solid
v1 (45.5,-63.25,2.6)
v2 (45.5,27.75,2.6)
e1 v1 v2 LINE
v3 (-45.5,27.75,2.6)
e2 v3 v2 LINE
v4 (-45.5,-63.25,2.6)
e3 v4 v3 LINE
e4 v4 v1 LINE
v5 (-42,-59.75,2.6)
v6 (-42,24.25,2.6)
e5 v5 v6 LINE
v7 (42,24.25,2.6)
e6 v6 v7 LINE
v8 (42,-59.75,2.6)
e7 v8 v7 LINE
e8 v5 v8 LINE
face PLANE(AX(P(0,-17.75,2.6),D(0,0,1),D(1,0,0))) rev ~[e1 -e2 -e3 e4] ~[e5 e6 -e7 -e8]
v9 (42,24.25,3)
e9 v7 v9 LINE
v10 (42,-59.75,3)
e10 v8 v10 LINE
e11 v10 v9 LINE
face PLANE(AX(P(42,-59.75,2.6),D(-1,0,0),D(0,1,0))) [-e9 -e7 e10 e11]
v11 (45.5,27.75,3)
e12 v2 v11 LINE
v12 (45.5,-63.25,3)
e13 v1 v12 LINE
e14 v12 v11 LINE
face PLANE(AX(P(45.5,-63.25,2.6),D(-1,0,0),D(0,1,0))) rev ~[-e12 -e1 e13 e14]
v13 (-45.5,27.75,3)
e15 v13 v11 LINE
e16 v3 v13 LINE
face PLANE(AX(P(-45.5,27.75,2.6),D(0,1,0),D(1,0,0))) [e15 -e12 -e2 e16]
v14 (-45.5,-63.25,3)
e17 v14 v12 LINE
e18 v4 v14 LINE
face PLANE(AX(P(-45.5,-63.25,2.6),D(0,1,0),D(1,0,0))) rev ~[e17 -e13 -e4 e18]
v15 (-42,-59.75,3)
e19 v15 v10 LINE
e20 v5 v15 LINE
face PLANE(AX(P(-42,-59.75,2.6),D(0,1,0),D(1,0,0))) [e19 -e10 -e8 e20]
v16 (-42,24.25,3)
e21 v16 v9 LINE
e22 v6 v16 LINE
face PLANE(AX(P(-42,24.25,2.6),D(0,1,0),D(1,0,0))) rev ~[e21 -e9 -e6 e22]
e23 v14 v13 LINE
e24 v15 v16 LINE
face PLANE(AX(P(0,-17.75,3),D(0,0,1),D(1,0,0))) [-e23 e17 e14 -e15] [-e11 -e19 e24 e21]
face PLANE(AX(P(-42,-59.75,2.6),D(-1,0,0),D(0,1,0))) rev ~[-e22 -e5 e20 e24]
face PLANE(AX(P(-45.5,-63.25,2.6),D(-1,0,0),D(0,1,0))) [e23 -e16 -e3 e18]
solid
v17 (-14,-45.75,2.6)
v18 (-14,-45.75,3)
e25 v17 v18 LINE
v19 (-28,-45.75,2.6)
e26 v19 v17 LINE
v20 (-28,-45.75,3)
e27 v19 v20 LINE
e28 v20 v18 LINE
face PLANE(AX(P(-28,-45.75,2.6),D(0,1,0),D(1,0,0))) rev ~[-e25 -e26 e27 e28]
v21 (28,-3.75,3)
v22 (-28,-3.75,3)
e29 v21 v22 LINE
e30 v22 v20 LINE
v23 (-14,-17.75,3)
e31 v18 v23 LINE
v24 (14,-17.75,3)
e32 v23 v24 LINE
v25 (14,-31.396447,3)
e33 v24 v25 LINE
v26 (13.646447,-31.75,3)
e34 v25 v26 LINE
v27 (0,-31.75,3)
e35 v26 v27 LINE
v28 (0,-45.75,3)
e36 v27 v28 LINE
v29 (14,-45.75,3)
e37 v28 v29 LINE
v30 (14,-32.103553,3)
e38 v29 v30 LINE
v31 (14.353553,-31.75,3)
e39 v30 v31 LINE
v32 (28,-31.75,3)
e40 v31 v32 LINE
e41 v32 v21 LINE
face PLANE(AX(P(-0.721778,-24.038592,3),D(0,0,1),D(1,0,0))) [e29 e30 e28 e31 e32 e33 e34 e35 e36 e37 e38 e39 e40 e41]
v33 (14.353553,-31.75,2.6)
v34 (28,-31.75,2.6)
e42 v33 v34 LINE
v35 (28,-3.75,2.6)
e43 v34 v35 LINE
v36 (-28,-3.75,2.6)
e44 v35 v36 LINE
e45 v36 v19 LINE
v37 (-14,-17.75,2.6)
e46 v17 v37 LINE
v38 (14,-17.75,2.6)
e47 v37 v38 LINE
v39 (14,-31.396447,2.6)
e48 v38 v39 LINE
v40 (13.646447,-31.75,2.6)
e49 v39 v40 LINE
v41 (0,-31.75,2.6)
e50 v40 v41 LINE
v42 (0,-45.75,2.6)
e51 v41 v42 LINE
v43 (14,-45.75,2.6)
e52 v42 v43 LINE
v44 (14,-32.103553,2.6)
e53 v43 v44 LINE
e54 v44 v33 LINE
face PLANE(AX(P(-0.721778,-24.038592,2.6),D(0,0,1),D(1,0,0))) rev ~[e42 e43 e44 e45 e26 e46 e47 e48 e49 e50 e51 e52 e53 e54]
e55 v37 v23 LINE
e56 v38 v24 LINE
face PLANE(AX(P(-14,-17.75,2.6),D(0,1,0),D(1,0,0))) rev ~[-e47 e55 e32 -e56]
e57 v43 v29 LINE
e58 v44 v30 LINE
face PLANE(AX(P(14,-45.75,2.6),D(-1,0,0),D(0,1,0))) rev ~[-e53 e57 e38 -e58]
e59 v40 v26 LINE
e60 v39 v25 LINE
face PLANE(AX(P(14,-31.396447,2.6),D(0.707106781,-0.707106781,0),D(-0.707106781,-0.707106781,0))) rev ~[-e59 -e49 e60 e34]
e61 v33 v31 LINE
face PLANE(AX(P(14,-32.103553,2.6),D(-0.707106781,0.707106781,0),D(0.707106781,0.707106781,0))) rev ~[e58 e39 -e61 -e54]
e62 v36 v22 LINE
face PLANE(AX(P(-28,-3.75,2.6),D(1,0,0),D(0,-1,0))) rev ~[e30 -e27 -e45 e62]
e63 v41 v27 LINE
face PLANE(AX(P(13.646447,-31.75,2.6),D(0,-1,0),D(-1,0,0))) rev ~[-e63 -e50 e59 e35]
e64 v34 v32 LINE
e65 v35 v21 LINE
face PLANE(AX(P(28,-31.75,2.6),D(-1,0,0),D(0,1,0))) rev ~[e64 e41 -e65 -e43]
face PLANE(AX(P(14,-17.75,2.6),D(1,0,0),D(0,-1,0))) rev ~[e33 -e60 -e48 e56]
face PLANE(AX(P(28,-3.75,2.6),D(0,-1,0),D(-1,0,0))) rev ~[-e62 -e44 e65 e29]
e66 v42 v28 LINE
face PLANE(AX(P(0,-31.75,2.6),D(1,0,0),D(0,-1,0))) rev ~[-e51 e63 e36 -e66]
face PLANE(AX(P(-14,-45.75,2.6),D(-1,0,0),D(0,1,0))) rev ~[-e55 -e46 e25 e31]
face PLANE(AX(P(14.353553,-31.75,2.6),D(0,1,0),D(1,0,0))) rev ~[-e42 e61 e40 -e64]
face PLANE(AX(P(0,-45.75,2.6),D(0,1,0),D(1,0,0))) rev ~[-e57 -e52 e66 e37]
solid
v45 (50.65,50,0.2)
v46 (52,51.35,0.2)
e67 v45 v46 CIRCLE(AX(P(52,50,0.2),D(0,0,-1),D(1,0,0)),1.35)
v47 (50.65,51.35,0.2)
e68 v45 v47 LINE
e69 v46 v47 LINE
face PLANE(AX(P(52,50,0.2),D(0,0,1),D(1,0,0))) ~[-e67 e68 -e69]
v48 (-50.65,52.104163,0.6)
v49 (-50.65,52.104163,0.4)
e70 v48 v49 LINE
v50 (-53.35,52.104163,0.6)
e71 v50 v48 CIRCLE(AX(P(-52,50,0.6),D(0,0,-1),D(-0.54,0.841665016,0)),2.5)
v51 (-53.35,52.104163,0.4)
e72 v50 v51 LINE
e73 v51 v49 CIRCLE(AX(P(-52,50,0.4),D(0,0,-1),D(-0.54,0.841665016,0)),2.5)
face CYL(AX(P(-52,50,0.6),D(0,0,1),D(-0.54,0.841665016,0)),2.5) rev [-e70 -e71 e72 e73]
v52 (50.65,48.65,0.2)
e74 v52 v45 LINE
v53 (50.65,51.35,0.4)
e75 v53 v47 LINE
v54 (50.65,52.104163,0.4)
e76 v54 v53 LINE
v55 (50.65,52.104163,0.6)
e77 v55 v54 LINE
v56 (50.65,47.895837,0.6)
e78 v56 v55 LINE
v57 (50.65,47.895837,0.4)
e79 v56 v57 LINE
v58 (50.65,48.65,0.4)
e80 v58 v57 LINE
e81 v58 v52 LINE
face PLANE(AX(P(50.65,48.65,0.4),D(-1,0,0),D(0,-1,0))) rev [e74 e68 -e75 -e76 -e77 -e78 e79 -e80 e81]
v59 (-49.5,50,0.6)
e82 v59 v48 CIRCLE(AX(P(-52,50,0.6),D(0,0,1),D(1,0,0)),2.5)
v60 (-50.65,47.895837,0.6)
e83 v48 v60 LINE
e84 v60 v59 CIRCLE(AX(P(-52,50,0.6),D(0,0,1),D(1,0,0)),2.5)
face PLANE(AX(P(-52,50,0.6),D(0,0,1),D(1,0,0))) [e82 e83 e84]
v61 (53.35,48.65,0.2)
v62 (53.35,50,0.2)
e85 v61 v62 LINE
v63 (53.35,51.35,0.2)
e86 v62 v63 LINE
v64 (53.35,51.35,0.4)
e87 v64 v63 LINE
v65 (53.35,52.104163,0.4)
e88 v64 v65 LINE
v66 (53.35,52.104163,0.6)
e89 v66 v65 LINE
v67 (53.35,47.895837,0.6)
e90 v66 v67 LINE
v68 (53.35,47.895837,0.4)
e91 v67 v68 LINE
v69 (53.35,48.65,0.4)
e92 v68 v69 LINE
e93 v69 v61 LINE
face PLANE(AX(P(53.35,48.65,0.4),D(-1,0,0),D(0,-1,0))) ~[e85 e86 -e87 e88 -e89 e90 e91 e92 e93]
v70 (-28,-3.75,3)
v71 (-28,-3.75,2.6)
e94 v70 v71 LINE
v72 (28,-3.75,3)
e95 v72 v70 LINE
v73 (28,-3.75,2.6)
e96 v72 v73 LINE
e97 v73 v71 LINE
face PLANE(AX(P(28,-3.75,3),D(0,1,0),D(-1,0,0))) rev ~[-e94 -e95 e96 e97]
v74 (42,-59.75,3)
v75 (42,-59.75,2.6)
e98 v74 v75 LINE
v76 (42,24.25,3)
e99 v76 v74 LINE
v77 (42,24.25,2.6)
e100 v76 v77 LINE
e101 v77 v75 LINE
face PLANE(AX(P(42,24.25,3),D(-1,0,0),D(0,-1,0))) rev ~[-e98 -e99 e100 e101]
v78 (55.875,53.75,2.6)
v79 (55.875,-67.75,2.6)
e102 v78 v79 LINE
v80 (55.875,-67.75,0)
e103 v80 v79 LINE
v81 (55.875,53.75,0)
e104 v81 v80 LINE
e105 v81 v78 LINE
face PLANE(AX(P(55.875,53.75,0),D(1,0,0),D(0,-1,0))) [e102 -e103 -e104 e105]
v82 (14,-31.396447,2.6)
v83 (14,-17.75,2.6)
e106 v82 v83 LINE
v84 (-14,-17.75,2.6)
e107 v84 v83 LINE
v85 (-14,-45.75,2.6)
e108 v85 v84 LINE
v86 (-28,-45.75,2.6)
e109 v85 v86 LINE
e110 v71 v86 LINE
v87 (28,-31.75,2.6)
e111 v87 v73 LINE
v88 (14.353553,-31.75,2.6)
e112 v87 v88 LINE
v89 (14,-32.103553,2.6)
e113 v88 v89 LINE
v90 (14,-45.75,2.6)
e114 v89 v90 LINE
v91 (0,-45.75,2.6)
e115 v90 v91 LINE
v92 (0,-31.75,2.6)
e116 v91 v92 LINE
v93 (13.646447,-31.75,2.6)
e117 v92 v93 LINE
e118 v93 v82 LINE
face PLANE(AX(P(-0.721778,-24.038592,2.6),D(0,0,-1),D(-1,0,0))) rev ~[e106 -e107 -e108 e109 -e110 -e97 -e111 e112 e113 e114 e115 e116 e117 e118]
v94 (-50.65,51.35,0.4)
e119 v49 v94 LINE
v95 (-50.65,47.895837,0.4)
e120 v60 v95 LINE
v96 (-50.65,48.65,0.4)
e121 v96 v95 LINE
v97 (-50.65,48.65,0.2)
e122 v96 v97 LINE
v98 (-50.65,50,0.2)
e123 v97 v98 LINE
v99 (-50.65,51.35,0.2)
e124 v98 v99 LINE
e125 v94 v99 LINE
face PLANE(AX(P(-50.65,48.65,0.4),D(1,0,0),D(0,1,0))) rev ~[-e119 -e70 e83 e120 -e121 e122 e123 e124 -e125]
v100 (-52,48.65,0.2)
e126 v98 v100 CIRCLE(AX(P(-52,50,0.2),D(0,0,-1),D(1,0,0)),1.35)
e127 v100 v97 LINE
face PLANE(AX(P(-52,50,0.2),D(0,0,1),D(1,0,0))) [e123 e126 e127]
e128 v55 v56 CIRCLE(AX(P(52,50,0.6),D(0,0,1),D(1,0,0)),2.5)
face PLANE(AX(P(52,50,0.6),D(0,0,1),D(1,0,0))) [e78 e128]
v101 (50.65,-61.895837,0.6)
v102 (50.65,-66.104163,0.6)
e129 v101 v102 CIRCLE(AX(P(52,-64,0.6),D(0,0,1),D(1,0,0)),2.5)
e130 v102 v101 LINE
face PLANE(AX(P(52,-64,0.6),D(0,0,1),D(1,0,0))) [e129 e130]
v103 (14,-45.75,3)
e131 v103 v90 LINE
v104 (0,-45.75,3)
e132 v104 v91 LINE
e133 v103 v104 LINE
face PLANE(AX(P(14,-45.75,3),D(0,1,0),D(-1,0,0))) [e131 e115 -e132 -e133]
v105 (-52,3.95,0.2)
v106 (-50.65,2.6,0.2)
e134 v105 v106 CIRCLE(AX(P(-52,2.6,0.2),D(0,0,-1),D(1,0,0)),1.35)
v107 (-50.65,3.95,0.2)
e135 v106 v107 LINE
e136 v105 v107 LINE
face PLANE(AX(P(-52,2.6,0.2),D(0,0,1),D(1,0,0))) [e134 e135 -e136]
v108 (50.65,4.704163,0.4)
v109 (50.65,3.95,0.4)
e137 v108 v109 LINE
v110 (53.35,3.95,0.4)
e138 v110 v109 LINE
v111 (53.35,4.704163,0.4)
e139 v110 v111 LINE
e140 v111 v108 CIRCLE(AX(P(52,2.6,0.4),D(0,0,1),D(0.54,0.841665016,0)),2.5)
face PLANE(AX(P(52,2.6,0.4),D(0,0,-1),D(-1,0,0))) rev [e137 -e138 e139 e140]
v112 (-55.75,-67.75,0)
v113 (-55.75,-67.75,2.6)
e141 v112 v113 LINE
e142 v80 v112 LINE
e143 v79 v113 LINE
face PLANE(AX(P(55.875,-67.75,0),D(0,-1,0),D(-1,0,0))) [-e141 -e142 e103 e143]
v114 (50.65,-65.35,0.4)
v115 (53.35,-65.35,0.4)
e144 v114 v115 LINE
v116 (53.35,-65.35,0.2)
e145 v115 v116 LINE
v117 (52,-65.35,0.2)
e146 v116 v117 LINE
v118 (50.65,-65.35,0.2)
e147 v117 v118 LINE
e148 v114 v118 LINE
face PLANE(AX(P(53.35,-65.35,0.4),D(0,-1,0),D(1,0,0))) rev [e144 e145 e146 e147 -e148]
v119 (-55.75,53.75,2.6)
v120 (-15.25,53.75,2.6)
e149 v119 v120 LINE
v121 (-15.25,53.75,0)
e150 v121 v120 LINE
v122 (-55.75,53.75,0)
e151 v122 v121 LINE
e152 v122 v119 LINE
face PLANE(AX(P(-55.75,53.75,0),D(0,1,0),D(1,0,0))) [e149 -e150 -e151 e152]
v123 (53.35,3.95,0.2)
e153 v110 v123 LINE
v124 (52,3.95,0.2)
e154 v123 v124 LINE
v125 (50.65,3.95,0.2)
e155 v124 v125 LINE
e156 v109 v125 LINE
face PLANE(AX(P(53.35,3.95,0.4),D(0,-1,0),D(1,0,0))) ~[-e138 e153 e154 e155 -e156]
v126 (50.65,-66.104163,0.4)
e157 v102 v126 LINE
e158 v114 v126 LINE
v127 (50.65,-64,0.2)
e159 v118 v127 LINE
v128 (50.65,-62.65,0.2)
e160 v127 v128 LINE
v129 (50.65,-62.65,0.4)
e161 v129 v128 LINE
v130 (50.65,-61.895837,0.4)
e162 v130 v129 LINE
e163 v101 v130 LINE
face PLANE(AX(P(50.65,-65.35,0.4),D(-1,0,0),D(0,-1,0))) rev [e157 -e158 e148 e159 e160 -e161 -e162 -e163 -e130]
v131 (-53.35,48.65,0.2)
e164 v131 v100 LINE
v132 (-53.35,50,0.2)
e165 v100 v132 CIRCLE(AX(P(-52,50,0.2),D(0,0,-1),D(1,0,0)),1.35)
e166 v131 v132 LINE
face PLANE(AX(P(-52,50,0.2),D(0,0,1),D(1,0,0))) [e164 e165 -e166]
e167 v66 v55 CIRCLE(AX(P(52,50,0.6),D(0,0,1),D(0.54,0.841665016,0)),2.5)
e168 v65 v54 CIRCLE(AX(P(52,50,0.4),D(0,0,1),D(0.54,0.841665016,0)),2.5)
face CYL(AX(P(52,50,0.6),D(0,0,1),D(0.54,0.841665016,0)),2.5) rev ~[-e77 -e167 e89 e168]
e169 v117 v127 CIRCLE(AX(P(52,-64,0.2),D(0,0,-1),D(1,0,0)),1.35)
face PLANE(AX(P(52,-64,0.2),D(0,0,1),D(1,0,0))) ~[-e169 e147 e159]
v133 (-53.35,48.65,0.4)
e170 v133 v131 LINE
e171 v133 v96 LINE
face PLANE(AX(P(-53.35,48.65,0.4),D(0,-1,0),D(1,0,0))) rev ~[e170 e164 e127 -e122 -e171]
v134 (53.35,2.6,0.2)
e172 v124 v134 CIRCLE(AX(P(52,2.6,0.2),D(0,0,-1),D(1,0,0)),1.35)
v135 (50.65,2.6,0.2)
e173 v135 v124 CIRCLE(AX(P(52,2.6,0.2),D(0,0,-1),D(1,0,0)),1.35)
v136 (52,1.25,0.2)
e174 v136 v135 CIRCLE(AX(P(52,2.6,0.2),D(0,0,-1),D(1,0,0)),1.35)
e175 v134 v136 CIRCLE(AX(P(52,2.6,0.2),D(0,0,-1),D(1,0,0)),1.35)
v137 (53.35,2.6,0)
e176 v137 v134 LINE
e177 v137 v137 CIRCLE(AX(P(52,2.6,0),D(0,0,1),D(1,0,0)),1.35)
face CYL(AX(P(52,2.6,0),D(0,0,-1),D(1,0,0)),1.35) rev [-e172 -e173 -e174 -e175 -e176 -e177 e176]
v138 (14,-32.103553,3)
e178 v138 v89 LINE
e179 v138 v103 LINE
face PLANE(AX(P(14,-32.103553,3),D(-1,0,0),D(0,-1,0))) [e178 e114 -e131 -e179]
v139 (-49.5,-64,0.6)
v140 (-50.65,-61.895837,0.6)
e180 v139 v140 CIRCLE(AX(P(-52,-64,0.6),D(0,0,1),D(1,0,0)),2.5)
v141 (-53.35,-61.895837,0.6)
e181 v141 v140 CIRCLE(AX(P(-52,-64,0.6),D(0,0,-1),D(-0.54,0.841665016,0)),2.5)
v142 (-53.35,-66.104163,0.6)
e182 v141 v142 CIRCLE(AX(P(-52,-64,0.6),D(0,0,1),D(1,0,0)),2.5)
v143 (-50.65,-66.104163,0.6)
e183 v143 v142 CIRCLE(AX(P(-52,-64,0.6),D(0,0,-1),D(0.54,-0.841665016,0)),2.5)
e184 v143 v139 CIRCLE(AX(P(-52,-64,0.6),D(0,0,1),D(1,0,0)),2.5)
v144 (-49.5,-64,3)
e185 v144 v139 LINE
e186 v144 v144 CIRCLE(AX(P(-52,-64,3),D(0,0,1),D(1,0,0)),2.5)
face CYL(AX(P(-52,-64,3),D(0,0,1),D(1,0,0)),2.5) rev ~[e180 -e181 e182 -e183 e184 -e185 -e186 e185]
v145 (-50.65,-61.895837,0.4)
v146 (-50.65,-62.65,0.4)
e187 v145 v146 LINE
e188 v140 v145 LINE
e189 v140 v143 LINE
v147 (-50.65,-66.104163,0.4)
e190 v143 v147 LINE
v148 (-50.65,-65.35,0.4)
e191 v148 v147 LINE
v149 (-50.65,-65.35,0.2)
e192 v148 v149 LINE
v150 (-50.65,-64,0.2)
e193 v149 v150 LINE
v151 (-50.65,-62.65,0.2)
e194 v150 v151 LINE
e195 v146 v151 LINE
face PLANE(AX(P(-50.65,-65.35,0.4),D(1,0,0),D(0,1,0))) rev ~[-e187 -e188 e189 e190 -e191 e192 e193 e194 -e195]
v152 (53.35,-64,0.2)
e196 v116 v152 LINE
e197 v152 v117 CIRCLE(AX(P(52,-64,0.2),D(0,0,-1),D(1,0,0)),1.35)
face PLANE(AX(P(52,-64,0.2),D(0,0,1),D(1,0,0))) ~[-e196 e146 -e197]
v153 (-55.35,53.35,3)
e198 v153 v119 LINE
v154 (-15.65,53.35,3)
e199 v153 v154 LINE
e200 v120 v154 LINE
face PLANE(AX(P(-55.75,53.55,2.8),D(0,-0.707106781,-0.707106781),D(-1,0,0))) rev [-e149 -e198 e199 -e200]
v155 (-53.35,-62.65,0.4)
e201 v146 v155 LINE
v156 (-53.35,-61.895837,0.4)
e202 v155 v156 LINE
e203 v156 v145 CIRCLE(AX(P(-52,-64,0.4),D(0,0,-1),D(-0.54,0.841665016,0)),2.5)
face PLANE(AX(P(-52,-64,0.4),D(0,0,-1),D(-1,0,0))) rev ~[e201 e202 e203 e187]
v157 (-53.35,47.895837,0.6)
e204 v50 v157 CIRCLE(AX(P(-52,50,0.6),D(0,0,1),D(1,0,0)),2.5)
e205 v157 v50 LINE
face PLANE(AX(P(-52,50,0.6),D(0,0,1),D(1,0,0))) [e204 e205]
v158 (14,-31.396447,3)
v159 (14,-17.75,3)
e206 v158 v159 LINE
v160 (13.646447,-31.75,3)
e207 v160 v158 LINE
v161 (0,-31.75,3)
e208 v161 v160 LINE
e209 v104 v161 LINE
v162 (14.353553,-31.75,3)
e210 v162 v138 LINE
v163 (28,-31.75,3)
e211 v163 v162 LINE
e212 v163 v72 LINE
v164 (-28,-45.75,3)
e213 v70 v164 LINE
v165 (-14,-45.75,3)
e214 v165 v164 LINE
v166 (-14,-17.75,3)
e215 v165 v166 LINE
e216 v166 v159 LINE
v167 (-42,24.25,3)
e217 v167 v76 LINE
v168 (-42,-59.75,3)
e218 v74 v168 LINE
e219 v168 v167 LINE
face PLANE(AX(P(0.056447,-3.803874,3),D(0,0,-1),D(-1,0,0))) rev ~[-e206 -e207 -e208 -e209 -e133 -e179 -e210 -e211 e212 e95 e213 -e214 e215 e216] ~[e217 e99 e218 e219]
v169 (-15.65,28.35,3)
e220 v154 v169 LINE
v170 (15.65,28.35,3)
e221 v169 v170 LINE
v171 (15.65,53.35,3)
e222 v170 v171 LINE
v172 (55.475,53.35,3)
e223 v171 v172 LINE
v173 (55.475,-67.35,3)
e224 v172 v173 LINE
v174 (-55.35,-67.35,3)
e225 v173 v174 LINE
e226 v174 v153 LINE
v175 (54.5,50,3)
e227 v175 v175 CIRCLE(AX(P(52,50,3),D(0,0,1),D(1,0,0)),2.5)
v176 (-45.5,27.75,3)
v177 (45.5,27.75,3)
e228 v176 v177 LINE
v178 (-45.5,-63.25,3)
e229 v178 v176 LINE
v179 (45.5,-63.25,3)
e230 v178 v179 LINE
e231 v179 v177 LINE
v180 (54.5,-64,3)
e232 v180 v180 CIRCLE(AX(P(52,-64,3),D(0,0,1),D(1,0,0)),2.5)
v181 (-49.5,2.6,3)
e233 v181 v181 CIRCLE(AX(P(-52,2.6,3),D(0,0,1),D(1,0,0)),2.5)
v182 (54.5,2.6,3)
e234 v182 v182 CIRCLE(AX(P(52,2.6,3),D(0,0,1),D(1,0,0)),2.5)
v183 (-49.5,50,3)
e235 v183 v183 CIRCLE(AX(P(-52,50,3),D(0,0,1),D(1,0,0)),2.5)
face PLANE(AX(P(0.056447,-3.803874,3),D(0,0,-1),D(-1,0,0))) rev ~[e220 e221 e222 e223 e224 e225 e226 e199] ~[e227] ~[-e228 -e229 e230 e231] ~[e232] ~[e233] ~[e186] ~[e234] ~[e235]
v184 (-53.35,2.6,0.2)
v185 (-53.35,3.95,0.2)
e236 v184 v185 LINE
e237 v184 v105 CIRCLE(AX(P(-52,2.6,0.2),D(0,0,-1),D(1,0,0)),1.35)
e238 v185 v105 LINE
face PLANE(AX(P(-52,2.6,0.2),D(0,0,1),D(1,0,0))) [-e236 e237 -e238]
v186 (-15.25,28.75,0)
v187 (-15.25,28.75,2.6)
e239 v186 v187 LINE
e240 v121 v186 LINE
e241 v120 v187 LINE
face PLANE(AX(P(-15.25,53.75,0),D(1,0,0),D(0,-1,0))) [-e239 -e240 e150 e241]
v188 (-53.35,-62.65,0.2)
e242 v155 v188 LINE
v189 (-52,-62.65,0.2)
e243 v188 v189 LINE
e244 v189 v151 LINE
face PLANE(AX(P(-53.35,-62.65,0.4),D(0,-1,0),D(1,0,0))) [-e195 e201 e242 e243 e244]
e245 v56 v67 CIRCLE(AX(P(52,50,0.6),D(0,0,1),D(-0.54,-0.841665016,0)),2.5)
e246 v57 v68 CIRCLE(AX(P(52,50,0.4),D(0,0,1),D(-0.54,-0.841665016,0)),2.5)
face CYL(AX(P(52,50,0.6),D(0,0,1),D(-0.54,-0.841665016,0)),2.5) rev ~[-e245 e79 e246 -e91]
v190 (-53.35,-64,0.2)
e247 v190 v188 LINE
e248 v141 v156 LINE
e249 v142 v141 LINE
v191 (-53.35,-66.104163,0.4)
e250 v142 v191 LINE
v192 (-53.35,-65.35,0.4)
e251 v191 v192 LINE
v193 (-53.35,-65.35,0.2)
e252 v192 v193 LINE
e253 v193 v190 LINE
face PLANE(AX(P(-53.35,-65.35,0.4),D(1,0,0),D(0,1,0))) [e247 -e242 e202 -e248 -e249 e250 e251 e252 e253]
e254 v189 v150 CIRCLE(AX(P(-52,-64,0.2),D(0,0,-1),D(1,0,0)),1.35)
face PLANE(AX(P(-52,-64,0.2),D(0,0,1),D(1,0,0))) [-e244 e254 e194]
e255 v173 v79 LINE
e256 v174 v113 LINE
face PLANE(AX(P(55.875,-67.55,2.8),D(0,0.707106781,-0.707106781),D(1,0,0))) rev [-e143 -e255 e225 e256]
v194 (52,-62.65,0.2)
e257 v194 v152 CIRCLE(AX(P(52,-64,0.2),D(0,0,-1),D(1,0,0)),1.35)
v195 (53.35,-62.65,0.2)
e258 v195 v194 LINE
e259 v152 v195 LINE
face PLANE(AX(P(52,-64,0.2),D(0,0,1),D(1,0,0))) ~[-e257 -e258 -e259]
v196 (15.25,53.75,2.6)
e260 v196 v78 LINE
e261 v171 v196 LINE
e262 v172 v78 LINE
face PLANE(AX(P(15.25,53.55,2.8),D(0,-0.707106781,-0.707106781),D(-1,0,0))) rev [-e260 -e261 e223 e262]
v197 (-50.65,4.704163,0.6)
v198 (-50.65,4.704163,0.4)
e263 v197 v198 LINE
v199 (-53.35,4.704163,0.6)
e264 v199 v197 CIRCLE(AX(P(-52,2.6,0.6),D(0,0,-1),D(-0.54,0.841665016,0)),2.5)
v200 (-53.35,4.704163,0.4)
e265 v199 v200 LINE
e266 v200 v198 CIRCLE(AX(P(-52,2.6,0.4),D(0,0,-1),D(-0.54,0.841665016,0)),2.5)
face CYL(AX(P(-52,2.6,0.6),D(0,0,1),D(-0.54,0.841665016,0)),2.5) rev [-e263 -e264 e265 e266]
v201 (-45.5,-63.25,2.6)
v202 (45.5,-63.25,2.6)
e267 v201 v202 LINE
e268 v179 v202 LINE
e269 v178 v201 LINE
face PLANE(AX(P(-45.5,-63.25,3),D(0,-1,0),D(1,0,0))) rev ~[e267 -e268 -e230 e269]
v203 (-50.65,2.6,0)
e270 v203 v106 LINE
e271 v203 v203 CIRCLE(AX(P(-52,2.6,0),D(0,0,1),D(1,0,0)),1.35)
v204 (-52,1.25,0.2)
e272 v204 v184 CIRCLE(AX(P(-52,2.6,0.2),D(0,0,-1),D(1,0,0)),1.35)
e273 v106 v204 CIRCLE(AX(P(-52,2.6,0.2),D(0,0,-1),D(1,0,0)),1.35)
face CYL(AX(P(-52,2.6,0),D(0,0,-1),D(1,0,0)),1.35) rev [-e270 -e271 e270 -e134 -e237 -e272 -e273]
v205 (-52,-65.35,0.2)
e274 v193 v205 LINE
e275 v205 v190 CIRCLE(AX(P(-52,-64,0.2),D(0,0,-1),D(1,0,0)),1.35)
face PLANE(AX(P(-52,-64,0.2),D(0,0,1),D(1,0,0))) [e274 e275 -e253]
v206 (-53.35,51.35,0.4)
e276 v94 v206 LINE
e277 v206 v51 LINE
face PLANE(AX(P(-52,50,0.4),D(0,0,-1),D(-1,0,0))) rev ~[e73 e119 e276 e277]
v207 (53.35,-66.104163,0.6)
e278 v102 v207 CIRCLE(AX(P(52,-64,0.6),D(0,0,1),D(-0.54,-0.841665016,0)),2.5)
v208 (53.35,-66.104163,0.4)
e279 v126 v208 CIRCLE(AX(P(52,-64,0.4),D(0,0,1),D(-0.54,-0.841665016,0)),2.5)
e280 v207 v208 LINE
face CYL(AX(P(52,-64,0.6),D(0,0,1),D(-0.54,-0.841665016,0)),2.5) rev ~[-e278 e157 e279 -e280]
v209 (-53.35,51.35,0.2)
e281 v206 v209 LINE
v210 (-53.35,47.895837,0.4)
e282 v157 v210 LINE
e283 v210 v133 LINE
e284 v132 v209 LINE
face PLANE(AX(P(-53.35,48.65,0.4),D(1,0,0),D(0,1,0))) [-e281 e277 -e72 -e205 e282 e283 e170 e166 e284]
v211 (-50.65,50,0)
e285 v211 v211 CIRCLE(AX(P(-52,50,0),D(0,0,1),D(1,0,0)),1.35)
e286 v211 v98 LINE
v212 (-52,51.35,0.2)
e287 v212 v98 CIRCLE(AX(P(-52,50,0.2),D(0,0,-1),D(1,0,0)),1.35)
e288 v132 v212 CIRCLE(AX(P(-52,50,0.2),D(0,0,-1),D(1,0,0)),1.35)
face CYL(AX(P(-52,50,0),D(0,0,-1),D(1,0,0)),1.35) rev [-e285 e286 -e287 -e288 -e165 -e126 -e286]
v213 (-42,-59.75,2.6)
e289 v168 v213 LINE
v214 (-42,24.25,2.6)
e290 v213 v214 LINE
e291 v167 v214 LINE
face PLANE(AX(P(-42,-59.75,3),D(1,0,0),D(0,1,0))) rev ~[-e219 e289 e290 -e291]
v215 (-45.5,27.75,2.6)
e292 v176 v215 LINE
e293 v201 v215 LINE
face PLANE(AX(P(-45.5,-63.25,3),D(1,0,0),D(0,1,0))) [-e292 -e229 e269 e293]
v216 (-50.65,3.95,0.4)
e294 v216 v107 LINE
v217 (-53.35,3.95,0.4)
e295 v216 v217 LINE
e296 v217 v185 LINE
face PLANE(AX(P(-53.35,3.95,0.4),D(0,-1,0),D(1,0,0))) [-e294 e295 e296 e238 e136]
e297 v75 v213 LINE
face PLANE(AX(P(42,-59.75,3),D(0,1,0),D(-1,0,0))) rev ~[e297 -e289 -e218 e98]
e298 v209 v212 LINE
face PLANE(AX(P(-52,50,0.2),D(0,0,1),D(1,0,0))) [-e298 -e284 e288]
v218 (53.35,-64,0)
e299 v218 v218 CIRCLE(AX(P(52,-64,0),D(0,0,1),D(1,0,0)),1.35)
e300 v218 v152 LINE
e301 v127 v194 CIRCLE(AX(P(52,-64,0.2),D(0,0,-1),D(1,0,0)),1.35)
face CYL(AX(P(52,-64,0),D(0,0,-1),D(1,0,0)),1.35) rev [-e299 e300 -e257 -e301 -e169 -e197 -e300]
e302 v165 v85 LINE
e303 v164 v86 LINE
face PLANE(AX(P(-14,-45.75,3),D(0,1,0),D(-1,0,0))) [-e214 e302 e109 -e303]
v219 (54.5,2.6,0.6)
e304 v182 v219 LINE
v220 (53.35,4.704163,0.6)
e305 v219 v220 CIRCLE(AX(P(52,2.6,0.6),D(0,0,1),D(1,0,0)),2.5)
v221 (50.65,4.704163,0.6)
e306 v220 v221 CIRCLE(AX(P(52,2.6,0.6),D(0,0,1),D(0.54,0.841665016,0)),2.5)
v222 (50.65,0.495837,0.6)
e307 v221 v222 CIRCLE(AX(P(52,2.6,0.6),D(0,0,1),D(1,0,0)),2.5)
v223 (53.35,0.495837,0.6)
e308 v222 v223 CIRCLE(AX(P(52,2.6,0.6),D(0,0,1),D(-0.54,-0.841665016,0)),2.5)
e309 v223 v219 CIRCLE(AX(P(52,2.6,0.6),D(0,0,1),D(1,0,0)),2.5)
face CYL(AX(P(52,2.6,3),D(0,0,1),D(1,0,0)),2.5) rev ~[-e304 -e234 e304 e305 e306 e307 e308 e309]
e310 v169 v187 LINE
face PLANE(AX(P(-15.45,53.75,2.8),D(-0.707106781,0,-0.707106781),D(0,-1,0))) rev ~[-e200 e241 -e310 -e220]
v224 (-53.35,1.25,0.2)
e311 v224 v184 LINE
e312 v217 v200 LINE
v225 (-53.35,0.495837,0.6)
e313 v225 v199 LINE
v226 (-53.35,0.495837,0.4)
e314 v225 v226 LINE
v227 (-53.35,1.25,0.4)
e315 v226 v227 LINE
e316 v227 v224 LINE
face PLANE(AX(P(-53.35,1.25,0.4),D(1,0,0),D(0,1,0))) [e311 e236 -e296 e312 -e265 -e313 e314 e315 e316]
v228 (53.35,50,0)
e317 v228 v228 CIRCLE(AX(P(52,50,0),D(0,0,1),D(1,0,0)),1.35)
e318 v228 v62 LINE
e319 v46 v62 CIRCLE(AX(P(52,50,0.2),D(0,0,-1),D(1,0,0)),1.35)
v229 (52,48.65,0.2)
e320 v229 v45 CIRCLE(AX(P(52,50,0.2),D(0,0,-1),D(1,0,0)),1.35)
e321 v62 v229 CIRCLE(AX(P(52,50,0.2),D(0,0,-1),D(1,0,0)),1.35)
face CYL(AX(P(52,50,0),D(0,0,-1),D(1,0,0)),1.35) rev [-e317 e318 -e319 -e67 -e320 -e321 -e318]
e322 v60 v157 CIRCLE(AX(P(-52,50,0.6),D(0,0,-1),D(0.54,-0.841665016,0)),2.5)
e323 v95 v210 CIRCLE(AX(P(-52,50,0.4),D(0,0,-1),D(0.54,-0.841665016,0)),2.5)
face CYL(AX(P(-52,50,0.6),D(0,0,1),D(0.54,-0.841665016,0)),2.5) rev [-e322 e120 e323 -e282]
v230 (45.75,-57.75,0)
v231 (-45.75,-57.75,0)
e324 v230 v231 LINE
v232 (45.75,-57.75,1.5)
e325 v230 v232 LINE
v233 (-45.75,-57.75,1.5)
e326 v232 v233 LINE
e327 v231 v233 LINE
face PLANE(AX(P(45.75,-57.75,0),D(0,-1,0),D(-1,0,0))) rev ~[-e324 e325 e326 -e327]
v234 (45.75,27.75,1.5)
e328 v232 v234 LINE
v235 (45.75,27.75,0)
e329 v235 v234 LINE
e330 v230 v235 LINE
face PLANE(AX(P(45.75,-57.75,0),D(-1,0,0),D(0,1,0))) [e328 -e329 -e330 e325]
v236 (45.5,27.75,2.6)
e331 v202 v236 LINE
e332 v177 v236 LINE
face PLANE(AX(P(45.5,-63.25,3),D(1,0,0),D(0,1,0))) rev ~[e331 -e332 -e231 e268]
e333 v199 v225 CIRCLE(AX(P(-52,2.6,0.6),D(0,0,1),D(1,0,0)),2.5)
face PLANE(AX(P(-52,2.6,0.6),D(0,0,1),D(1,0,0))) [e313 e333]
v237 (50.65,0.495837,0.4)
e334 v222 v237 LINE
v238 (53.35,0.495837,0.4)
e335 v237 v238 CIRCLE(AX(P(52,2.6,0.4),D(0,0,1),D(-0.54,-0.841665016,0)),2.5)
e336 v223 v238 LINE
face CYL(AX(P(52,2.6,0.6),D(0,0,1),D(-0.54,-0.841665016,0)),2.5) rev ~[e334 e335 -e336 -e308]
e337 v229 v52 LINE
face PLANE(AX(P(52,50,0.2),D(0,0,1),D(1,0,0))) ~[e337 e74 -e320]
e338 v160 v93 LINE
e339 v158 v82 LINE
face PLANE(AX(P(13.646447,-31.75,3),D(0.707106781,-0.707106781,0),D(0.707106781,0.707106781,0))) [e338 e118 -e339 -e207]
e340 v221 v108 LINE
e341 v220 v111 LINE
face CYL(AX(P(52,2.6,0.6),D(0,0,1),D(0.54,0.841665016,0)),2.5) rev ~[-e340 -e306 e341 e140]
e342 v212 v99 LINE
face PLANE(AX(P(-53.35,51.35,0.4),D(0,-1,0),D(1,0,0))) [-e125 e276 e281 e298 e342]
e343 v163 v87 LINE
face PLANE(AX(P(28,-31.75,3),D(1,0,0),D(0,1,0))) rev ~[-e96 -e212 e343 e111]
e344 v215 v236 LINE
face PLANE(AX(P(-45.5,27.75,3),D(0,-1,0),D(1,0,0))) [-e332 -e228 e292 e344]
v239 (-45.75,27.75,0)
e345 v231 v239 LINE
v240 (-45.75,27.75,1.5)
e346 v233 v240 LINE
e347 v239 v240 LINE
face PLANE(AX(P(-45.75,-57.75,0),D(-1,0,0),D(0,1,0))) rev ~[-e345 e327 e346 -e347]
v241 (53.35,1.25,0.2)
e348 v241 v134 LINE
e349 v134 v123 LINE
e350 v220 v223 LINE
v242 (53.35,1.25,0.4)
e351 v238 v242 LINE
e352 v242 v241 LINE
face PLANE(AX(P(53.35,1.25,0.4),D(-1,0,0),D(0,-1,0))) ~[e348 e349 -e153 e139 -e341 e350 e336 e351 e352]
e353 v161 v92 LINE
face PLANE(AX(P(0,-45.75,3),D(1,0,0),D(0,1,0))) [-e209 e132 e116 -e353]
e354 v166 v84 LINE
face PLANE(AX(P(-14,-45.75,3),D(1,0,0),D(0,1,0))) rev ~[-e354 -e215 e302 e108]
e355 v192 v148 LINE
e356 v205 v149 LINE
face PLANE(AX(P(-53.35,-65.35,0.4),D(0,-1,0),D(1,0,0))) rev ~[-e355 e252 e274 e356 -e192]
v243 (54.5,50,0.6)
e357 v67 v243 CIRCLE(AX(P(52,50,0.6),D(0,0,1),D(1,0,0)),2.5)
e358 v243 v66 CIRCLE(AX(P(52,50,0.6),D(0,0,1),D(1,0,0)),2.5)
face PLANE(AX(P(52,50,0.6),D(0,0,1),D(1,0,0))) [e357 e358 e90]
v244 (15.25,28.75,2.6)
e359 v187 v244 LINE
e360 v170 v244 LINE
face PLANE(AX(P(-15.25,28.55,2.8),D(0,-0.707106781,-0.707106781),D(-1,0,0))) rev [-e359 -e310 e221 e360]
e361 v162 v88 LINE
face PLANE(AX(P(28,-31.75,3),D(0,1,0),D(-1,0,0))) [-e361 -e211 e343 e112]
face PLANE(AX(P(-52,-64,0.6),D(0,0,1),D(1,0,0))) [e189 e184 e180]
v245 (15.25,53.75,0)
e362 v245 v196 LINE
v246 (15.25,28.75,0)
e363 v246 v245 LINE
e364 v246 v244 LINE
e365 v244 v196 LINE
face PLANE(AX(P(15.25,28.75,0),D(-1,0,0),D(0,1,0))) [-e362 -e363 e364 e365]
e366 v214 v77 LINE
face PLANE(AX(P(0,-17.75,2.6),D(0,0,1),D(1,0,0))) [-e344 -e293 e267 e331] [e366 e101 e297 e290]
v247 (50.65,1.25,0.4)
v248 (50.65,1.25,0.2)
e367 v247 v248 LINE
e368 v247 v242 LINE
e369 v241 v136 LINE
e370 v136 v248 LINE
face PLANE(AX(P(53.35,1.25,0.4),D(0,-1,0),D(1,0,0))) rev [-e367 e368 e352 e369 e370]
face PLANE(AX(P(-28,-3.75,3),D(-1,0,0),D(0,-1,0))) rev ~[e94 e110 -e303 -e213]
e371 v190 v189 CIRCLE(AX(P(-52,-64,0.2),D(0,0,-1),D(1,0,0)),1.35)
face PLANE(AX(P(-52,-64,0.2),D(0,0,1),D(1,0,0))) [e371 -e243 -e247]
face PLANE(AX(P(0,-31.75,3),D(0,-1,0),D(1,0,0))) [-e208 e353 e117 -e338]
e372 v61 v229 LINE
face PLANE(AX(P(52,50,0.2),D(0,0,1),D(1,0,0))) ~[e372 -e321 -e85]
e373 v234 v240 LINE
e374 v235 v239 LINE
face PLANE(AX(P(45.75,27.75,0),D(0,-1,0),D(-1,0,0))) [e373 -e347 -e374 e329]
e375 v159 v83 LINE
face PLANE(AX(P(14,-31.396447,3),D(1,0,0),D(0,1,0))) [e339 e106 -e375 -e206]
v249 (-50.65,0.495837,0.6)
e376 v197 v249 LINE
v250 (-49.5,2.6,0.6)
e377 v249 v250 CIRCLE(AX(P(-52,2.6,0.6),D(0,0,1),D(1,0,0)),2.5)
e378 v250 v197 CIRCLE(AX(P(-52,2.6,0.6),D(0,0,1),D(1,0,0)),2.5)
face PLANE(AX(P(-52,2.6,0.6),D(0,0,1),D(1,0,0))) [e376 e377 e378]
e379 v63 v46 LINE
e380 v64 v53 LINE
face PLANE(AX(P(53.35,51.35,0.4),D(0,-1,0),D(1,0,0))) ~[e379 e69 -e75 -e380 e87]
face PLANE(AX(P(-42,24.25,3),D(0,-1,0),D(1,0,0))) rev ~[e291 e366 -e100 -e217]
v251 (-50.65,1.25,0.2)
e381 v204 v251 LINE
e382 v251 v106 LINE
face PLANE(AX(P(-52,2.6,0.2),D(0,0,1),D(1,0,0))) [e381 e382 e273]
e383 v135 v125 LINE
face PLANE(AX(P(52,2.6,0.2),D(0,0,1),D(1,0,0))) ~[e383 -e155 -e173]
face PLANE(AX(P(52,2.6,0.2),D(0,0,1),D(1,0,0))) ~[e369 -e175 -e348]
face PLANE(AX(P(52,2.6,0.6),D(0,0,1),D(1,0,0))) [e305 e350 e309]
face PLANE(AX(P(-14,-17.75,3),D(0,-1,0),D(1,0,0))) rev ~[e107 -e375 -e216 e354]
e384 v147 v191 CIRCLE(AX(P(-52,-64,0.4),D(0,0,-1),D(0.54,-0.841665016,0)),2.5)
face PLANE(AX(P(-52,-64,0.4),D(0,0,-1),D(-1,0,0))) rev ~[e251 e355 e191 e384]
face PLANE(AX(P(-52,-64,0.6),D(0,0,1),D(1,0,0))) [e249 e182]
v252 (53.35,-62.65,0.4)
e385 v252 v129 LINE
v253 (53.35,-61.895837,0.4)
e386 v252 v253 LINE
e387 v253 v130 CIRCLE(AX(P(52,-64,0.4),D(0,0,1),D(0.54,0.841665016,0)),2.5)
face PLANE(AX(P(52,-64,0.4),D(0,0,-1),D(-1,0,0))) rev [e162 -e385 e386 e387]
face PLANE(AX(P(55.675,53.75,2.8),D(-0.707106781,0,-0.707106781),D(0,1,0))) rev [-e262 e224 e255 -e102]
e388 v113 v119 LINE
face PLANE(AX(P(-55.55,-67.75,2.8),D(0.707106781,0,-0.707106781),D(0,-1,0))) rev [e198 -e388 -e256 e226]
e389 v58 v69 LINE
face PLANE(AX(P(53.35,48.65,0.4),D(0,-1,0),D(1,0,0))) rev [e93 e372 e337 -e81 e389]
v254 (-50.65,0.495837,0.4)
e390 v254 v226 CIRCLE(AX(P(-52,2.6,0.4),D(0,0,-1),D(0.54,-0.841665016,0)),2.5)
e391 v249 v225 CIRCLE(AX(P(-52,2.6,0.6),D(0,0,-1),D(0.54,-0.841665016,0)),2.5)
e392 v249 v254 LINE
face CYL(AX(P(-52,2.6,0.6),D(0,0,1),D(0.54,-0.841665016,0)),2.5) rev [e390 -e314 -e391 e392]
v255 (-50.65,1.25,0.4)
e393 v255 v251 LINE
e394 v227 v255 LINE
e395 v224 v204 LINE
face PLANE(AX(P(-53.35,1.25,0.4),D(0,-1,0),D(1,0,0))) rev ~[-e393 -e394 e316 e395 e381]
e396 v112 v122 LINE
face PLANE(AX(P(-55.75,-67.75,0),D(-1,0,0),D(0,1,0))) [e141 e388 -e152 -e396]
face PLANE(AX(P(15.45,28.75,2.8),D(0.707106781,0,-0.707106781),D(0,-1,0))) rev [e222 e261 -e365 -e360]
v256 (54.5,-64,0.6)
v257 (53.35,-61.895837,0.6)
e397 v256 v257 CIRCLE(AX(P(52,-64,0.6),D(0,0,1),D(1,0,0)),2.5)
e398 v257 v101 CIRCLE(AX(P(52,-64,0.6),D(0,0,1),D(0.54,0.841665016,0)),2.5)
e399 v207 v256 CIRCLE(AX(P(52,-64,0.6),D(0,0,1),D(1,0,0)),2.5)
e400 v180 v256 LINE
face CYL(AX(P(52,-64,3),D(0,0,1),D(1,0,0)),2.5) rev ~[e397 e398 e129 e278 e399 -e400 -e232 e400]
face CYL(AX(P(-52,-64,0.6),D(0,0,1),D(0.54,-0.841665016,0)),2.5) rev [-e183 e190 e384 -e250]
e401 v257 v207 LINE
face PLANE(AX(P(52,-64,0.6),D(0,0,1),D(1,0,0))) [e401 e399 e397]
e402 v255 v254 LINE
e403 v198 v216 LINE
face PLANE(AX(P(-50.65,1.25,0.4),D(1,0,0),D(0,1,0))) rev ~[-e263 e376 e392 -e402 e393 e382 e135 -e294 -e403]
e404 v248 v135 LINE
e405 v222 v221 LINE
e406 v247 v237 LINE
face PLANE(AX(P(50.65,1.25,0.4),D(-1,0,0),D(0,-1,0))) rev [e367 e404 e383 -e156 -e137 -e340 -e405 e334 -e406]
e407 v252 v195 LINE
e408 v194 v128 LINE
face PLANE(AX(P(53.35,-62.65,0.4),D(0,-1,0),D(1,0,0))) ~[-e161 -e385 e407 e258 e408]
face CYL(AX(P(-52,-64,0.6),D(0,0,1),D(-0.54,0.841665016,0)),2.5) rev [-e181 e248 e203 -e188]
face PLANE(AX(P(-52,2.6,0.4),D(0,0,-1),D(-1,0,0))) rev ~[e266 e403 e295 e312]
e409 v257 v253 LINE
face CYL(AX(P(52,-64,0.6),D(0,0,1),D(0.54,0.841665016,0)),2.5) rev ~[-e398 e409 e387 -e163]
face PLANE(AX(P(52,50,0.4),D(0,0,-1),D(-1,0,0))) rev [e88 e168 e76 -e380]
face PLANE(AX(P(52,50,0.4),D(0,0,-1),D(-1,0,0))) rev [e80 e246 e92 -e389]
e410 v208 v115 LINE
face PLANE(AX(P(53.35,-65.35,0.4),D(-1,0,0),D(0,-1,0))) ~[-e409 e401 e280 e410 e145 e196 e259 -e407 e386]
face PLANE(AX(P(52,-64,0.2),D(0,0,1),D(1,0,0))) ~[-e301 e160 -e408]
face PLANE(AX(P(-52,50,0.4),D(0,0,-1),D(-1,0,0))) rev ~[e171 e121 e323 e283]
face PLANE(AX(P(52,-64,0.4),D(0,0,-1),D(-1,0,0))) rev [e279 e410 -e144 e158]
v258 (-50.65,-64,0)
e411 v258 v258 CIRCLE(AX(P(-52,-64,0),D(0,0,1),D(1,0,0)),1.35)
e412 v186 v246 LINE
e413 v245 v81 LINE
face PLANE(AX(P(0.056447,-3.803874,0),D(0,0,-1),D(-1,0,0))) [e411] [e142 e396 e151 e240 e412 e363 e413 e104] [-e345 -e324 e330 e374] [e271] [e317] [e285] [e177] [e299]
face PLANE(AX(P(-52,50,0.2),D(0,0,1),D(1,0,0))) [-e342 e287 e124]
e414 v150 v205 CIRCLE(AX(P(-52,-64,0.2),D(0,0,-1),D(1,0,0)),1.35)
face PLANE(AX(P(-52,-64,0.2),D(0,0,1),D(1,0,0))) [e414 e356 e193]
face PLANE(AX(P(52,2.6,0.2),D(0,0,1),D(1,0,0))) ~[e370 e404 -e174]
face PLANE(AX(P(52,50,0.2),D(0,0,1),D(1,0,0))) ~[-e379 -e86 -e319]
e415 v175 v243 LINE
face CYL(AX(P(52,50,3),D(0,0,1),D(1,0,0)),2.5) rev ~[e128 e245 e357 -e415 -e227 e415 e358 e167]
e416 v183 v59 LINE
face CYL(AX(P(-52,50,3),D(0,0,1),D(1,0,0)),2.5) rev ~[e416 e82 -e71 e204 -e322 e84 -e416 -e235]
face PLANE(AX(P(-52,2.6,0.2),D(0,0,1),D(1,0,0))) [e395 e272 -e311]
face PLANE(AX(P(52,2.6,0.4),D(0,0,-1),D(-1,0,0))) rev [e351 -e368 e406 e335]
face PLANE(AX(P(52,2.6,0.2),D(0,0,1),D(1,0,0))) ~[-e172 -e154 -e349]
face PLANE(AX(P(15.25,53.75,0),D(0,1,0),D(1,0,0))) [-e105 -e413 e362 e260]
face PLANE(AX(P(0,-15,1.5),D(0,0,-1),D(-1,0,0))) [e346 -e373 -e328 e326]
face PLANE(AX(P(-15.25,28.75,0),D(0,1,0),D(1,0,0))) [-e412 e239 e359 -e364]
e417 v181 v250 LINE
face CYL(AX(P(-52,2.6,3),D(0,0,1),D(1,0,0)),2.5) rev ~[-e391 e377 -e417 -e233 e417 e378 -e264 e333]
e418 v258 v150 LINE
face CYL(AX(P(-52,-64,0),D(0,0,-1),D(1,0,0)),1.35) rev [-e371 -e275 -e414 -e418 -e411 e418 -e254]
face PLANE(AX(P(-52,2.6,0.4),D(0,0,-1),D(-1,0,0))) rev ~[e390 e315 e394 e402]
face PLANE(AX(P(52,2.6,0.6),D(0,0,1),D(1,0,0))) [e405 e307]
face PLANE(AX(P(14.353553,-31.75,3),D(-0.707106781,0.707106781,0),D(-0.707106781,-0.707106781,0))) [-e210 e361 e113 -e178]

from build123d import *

# Parameters (mm, degrees)
SKETCH1_R           = 1.35
BOSS_EXTRUDE1_DEPTH = 3
SKETCH3_R           = 2.5
CUT_EXTRUDE1_DEPTH  = 2.4
SKETCH4_W           = 91.5
SKETCH4_H           = 85.5
CUT_EXTRUDE2_DEPTH  = 1.5
CUT_EXTRUDE3_DEPTH  = 0.2
SKETCH6_W           = 2.7
SKETCH6_H           = 2.7
CUT_EXTRUDE4_DEPTH  = 0.2
CHAMFER1_SIZE       = 0.4
SKETCH7_W           = 91
SKETCH7_H           = 91
CUT_EXTRUDE5_DEPTH  = 0.4
SKETCH8_W           = 91
SKETCH8_H           = 91
SKETCH8_W_2         = 84
SKETCH8_H_2         = 84
BOSS_EXTRUDE2_DEPTH = 0.4
CUT_EXTRUDE6_DEPTH  = 0.4
BOSS_EXTRUDE3_DEPTH = 0.4


with BuildPart() as part:
    # Sketch1 → Boss-Extrude1 (new body)
    with BuildSketch(Plane.XY):
        Polygon((-15.25, 53.75), (-15.25, 28.75), (15.25, 28.75), (15.25, 53.75), (55.875, 53.75), (55.875, -67.75), (-55.75, -67.75), (-55.75, 53.75), align=None)
        with Locations((-52, 50)):
            Circle(SKETCH1_R, mode=Mode.SUBTRACT)
        with Locations((-52, 2.6)):
            Circle(SKETCH1_R, mode=Mode.SUBTRACT)
        with Locations((-52, -64)):
            Circle(SKETCH1_R, mode=Mode.SUBTRACT)
        with Locations((52, 50)):
            Circle(SKETCH1_R, mode=Mode.SUBTRACT)
        with Locations((52, 2.6)):
            Circle(SKETCH1_R, mode=Mode.SUBTRACT)
        with Locations((52, -64)):
            Circle(SKETCH1_R, mode=Mode.SUBTRACT)
    extrude(amount=BOSS_EXTRUDE1_DEPTH)

    # Sketch3 → Cut-Extrude1 (cut)
    with BuildSketch(Plane.XY.offset(3)):
        with Locations((-52, 50)):
            Circle(SKETCH3_R)
        with Locations((-52, 2.6)):
            Circle(SKETCH3_R)
        with Locations((-52, -64)):
            Circle(SKETCH3_R)
        with Locations((52, -64)):
            Circle(SKETCH3_R)
        with Locations((52, 2.6)):
            Circle(SKETCH3_R)
        with Locations((52, 50)):
            Circle(SKETCH3_R)
    extrude(amount=-CUT_EXTRUDE1_DEPTH, mode=Mode.SUBTRACT)

    # Sketch4 → Cut-Extrude2 (cut)
    with BuildSketch(Plane(origin=(0, 0, 0), x_dir=(-1, 0, 0), z_dir=(0, 0, -1))):
        with Locations((0, -15)):
            Rectangle(SKETCH4_W, SKETCH4_H)
    extrude(amount=-CUT_EXTRUDE2_DEPTH, mode=Mode.SUBTRACT)

    # Sketch5 → Cut-Extrude3 (cut)
    with BuildSketch(Plane.XY.offset(0.6)):
        with BuildLine():
            Line((-53.35, 47.895837459), (-53.35, 52.104162541))
            ThreePointArc((-53.35, 52.104162541), (-52, 52.5), (-50.65, 52.104162541))
            Line((-50.65, 52.104162541), (-50.65, 47.895837459))
            ThreePointArc((-50.65, 47.895837459), (-52, 47.5), (-53.35, 47.895837459))
        make_face()
        with BuildLine():
            Line((-53.35, 0.495837459), (-53.35, 4.704162541))
            ThreePointArc((-53.35, 4.704162541), (-52, 5.1), (-50.65, 4.704162541))
            Line((-50.65, 4.704162541), (-50.65, 0.495837459))
            ThreePointArc((-50.65, 0.495837459), (-52, 0.1), (-53.35, 0.495837459))
        make_face()
        with BuildLine():
            Line((-53.35, -66.104162541), (-53.35, -61.895837459))
            ThreePointArc((-53.35, -61.895837459), (-52, -61.5), (-50.65, -61.895837459))
            Line((-50.65, -61.895837459), (-50.65, -66.104162541))
            ThreePointArc((-50.65, -66.104162541), (-52, -66.5), (-53.35, -66.104162541))
        make_face()
    cut_extrude3 = extrude(amount=-CUT_EXTRUDE3_DEPTH, mode=Mode.SUBTRACT)

    # Sketch6 → Cut-Extrude4 (cut)
    with BuildSketch(Plane.XY.offset(0.4)):
        with Locations((-52, -64)):
            Rectangle(SKETCH6_W, SKETCH6_H)
        with Locations((-52, 2.6)):
            Rectangle(SKETCH6_W, SKETCH6_H)
        with Locations((-52, 50)):
            Rectangle(SKETCH6_W, SKETCH6_H)
    cut_extrude4 = extrude(amount=-CUT_EXTRUDE4_DEPTH, mode=Mode.SUBTRACT)

    # Mirror1: Cut-Extrude3, Cut-Extrude4 across plane
    add(cut_extrude3.mirror(Plane(origin=(0, 0, 0), x_dir=(0, 0, 1), z_dir=(1, 0, 0))), mode=Mode.SUBTRACT)
    add(cut_extrude4.mirror(Plane(origin=(0, 0, 0), x_dir=(0, 0, 1), z_dir=(1, 0, 0))), mode=Mode.SUBTRACT)

    # Chamfer1
    chamfer1_edges = [part.edges().sort_by_distance(p)[0] for p in [
        (55.875, -7, 3),
        (35.5625, 53.75, 3),
        (15.25, 41.25, 3),
        (0, 28.75, 3),
        (-15.25, 41.25, 3),
        (-35.5, 53.75, 3),
        (-55.75, -7, 3),
        (0.0625, -67.75, 3),
    ]]
    chamfer(chamfer1_edges, length=CHAMFER1_SIZE)

    # Sketch7 → Cut-Extrude5 (cut)
    with BuildSketch(Plane.XY.offset(3)):
        with Locations((0, -17.75)):
            Rectangle(SKETCH7_W, SKETCH7_H)
        Polygon((28, 24.25), (42, 24.25), (42, 10.25), (42, -3.75), (42, -17.75), (42, -31.75), (42, -45.75), (42, -59.75), (28, -59.75), (14, -59.75), (0, -59.75), (-14, -59.75), (-28, -59.75), (-42, -59.75), (-42, -45.75), (-42, -31.75), (-42, -17.75), (-42, -3.75), (-42, 10.25), (-42, 24.25), (-28, 24.25), (-14, 24.25), (0, 24.25), (14, 24.25), align=None, mode=Mode.SUBTRACT)
    extrude(amount=-CUT_EXTRUDE5_DEPTH, mode=Mode.SUBTRACT)

    # Sketch9 → Cut-Extrude6 (cut)
    with BuildSketch(Plane.XY.offset(3)):
        Polygon((0, -45.75), (0, -31.75), (13.646446609, -31.75), (14, -31.396446609), (14, -17.75), (0, -17.75), (-14, -17.75), (-14, -31.75), (-14, -45.75), (-28, -45.75), (-28, -31.75), (-28, -17.75), (-28, -3.75), (-14, -3.75), (0, -3.75), (14, -3.75), (28, -3.75), (28, -17.75), (28, -31.75), (14.353553391, -31.75), (14, -32.103553391), (14, -45.75), align=None)
    extrude(amount=-CUT_EXTRUDE6_DEPTH, mode=Mode.SUBTRACT)


with BuildPart() as body_2:
    # Sketch8 → Boss-Extrude2 (new body)
    with BuildSketch(Plane.XY.offset(2.6)):
        with Locations((0, -17.75)):
            Rectangle(SKETCH8_W, SKETCH8_H)
        with Locations((0, -17.75)):
            Rectangle(SKETCH8_W_2, SKETCH8_H_2, mode=Mode.SUBTRACT)
    extrude(amount=BOSS_EXTRUDE2_DEPTH)


with BuildPart() as body_3:
    # Sketch10 → Boss-Extrude3 (new body)
    with BuildSketch(Plane.XY.offset(2.6)):
        Polygon((14, -32.103553391), (14.353553391, -31.75), (28, -31.75), (28, -3.75), (-28, -3.75), (-28, -45.75), (-14, -45.75), (-14, -17.75), (14, -17.75), (14, -31.396446609), (13.646446609, -31.75), (0, -31.75), (0, -45.75), (14, -45.75), align=None)
    extrude(amount=BOSS_EXTRUDE3_DEPTH)


solid = Compound([part.part, body_2.part, body_3.part])
